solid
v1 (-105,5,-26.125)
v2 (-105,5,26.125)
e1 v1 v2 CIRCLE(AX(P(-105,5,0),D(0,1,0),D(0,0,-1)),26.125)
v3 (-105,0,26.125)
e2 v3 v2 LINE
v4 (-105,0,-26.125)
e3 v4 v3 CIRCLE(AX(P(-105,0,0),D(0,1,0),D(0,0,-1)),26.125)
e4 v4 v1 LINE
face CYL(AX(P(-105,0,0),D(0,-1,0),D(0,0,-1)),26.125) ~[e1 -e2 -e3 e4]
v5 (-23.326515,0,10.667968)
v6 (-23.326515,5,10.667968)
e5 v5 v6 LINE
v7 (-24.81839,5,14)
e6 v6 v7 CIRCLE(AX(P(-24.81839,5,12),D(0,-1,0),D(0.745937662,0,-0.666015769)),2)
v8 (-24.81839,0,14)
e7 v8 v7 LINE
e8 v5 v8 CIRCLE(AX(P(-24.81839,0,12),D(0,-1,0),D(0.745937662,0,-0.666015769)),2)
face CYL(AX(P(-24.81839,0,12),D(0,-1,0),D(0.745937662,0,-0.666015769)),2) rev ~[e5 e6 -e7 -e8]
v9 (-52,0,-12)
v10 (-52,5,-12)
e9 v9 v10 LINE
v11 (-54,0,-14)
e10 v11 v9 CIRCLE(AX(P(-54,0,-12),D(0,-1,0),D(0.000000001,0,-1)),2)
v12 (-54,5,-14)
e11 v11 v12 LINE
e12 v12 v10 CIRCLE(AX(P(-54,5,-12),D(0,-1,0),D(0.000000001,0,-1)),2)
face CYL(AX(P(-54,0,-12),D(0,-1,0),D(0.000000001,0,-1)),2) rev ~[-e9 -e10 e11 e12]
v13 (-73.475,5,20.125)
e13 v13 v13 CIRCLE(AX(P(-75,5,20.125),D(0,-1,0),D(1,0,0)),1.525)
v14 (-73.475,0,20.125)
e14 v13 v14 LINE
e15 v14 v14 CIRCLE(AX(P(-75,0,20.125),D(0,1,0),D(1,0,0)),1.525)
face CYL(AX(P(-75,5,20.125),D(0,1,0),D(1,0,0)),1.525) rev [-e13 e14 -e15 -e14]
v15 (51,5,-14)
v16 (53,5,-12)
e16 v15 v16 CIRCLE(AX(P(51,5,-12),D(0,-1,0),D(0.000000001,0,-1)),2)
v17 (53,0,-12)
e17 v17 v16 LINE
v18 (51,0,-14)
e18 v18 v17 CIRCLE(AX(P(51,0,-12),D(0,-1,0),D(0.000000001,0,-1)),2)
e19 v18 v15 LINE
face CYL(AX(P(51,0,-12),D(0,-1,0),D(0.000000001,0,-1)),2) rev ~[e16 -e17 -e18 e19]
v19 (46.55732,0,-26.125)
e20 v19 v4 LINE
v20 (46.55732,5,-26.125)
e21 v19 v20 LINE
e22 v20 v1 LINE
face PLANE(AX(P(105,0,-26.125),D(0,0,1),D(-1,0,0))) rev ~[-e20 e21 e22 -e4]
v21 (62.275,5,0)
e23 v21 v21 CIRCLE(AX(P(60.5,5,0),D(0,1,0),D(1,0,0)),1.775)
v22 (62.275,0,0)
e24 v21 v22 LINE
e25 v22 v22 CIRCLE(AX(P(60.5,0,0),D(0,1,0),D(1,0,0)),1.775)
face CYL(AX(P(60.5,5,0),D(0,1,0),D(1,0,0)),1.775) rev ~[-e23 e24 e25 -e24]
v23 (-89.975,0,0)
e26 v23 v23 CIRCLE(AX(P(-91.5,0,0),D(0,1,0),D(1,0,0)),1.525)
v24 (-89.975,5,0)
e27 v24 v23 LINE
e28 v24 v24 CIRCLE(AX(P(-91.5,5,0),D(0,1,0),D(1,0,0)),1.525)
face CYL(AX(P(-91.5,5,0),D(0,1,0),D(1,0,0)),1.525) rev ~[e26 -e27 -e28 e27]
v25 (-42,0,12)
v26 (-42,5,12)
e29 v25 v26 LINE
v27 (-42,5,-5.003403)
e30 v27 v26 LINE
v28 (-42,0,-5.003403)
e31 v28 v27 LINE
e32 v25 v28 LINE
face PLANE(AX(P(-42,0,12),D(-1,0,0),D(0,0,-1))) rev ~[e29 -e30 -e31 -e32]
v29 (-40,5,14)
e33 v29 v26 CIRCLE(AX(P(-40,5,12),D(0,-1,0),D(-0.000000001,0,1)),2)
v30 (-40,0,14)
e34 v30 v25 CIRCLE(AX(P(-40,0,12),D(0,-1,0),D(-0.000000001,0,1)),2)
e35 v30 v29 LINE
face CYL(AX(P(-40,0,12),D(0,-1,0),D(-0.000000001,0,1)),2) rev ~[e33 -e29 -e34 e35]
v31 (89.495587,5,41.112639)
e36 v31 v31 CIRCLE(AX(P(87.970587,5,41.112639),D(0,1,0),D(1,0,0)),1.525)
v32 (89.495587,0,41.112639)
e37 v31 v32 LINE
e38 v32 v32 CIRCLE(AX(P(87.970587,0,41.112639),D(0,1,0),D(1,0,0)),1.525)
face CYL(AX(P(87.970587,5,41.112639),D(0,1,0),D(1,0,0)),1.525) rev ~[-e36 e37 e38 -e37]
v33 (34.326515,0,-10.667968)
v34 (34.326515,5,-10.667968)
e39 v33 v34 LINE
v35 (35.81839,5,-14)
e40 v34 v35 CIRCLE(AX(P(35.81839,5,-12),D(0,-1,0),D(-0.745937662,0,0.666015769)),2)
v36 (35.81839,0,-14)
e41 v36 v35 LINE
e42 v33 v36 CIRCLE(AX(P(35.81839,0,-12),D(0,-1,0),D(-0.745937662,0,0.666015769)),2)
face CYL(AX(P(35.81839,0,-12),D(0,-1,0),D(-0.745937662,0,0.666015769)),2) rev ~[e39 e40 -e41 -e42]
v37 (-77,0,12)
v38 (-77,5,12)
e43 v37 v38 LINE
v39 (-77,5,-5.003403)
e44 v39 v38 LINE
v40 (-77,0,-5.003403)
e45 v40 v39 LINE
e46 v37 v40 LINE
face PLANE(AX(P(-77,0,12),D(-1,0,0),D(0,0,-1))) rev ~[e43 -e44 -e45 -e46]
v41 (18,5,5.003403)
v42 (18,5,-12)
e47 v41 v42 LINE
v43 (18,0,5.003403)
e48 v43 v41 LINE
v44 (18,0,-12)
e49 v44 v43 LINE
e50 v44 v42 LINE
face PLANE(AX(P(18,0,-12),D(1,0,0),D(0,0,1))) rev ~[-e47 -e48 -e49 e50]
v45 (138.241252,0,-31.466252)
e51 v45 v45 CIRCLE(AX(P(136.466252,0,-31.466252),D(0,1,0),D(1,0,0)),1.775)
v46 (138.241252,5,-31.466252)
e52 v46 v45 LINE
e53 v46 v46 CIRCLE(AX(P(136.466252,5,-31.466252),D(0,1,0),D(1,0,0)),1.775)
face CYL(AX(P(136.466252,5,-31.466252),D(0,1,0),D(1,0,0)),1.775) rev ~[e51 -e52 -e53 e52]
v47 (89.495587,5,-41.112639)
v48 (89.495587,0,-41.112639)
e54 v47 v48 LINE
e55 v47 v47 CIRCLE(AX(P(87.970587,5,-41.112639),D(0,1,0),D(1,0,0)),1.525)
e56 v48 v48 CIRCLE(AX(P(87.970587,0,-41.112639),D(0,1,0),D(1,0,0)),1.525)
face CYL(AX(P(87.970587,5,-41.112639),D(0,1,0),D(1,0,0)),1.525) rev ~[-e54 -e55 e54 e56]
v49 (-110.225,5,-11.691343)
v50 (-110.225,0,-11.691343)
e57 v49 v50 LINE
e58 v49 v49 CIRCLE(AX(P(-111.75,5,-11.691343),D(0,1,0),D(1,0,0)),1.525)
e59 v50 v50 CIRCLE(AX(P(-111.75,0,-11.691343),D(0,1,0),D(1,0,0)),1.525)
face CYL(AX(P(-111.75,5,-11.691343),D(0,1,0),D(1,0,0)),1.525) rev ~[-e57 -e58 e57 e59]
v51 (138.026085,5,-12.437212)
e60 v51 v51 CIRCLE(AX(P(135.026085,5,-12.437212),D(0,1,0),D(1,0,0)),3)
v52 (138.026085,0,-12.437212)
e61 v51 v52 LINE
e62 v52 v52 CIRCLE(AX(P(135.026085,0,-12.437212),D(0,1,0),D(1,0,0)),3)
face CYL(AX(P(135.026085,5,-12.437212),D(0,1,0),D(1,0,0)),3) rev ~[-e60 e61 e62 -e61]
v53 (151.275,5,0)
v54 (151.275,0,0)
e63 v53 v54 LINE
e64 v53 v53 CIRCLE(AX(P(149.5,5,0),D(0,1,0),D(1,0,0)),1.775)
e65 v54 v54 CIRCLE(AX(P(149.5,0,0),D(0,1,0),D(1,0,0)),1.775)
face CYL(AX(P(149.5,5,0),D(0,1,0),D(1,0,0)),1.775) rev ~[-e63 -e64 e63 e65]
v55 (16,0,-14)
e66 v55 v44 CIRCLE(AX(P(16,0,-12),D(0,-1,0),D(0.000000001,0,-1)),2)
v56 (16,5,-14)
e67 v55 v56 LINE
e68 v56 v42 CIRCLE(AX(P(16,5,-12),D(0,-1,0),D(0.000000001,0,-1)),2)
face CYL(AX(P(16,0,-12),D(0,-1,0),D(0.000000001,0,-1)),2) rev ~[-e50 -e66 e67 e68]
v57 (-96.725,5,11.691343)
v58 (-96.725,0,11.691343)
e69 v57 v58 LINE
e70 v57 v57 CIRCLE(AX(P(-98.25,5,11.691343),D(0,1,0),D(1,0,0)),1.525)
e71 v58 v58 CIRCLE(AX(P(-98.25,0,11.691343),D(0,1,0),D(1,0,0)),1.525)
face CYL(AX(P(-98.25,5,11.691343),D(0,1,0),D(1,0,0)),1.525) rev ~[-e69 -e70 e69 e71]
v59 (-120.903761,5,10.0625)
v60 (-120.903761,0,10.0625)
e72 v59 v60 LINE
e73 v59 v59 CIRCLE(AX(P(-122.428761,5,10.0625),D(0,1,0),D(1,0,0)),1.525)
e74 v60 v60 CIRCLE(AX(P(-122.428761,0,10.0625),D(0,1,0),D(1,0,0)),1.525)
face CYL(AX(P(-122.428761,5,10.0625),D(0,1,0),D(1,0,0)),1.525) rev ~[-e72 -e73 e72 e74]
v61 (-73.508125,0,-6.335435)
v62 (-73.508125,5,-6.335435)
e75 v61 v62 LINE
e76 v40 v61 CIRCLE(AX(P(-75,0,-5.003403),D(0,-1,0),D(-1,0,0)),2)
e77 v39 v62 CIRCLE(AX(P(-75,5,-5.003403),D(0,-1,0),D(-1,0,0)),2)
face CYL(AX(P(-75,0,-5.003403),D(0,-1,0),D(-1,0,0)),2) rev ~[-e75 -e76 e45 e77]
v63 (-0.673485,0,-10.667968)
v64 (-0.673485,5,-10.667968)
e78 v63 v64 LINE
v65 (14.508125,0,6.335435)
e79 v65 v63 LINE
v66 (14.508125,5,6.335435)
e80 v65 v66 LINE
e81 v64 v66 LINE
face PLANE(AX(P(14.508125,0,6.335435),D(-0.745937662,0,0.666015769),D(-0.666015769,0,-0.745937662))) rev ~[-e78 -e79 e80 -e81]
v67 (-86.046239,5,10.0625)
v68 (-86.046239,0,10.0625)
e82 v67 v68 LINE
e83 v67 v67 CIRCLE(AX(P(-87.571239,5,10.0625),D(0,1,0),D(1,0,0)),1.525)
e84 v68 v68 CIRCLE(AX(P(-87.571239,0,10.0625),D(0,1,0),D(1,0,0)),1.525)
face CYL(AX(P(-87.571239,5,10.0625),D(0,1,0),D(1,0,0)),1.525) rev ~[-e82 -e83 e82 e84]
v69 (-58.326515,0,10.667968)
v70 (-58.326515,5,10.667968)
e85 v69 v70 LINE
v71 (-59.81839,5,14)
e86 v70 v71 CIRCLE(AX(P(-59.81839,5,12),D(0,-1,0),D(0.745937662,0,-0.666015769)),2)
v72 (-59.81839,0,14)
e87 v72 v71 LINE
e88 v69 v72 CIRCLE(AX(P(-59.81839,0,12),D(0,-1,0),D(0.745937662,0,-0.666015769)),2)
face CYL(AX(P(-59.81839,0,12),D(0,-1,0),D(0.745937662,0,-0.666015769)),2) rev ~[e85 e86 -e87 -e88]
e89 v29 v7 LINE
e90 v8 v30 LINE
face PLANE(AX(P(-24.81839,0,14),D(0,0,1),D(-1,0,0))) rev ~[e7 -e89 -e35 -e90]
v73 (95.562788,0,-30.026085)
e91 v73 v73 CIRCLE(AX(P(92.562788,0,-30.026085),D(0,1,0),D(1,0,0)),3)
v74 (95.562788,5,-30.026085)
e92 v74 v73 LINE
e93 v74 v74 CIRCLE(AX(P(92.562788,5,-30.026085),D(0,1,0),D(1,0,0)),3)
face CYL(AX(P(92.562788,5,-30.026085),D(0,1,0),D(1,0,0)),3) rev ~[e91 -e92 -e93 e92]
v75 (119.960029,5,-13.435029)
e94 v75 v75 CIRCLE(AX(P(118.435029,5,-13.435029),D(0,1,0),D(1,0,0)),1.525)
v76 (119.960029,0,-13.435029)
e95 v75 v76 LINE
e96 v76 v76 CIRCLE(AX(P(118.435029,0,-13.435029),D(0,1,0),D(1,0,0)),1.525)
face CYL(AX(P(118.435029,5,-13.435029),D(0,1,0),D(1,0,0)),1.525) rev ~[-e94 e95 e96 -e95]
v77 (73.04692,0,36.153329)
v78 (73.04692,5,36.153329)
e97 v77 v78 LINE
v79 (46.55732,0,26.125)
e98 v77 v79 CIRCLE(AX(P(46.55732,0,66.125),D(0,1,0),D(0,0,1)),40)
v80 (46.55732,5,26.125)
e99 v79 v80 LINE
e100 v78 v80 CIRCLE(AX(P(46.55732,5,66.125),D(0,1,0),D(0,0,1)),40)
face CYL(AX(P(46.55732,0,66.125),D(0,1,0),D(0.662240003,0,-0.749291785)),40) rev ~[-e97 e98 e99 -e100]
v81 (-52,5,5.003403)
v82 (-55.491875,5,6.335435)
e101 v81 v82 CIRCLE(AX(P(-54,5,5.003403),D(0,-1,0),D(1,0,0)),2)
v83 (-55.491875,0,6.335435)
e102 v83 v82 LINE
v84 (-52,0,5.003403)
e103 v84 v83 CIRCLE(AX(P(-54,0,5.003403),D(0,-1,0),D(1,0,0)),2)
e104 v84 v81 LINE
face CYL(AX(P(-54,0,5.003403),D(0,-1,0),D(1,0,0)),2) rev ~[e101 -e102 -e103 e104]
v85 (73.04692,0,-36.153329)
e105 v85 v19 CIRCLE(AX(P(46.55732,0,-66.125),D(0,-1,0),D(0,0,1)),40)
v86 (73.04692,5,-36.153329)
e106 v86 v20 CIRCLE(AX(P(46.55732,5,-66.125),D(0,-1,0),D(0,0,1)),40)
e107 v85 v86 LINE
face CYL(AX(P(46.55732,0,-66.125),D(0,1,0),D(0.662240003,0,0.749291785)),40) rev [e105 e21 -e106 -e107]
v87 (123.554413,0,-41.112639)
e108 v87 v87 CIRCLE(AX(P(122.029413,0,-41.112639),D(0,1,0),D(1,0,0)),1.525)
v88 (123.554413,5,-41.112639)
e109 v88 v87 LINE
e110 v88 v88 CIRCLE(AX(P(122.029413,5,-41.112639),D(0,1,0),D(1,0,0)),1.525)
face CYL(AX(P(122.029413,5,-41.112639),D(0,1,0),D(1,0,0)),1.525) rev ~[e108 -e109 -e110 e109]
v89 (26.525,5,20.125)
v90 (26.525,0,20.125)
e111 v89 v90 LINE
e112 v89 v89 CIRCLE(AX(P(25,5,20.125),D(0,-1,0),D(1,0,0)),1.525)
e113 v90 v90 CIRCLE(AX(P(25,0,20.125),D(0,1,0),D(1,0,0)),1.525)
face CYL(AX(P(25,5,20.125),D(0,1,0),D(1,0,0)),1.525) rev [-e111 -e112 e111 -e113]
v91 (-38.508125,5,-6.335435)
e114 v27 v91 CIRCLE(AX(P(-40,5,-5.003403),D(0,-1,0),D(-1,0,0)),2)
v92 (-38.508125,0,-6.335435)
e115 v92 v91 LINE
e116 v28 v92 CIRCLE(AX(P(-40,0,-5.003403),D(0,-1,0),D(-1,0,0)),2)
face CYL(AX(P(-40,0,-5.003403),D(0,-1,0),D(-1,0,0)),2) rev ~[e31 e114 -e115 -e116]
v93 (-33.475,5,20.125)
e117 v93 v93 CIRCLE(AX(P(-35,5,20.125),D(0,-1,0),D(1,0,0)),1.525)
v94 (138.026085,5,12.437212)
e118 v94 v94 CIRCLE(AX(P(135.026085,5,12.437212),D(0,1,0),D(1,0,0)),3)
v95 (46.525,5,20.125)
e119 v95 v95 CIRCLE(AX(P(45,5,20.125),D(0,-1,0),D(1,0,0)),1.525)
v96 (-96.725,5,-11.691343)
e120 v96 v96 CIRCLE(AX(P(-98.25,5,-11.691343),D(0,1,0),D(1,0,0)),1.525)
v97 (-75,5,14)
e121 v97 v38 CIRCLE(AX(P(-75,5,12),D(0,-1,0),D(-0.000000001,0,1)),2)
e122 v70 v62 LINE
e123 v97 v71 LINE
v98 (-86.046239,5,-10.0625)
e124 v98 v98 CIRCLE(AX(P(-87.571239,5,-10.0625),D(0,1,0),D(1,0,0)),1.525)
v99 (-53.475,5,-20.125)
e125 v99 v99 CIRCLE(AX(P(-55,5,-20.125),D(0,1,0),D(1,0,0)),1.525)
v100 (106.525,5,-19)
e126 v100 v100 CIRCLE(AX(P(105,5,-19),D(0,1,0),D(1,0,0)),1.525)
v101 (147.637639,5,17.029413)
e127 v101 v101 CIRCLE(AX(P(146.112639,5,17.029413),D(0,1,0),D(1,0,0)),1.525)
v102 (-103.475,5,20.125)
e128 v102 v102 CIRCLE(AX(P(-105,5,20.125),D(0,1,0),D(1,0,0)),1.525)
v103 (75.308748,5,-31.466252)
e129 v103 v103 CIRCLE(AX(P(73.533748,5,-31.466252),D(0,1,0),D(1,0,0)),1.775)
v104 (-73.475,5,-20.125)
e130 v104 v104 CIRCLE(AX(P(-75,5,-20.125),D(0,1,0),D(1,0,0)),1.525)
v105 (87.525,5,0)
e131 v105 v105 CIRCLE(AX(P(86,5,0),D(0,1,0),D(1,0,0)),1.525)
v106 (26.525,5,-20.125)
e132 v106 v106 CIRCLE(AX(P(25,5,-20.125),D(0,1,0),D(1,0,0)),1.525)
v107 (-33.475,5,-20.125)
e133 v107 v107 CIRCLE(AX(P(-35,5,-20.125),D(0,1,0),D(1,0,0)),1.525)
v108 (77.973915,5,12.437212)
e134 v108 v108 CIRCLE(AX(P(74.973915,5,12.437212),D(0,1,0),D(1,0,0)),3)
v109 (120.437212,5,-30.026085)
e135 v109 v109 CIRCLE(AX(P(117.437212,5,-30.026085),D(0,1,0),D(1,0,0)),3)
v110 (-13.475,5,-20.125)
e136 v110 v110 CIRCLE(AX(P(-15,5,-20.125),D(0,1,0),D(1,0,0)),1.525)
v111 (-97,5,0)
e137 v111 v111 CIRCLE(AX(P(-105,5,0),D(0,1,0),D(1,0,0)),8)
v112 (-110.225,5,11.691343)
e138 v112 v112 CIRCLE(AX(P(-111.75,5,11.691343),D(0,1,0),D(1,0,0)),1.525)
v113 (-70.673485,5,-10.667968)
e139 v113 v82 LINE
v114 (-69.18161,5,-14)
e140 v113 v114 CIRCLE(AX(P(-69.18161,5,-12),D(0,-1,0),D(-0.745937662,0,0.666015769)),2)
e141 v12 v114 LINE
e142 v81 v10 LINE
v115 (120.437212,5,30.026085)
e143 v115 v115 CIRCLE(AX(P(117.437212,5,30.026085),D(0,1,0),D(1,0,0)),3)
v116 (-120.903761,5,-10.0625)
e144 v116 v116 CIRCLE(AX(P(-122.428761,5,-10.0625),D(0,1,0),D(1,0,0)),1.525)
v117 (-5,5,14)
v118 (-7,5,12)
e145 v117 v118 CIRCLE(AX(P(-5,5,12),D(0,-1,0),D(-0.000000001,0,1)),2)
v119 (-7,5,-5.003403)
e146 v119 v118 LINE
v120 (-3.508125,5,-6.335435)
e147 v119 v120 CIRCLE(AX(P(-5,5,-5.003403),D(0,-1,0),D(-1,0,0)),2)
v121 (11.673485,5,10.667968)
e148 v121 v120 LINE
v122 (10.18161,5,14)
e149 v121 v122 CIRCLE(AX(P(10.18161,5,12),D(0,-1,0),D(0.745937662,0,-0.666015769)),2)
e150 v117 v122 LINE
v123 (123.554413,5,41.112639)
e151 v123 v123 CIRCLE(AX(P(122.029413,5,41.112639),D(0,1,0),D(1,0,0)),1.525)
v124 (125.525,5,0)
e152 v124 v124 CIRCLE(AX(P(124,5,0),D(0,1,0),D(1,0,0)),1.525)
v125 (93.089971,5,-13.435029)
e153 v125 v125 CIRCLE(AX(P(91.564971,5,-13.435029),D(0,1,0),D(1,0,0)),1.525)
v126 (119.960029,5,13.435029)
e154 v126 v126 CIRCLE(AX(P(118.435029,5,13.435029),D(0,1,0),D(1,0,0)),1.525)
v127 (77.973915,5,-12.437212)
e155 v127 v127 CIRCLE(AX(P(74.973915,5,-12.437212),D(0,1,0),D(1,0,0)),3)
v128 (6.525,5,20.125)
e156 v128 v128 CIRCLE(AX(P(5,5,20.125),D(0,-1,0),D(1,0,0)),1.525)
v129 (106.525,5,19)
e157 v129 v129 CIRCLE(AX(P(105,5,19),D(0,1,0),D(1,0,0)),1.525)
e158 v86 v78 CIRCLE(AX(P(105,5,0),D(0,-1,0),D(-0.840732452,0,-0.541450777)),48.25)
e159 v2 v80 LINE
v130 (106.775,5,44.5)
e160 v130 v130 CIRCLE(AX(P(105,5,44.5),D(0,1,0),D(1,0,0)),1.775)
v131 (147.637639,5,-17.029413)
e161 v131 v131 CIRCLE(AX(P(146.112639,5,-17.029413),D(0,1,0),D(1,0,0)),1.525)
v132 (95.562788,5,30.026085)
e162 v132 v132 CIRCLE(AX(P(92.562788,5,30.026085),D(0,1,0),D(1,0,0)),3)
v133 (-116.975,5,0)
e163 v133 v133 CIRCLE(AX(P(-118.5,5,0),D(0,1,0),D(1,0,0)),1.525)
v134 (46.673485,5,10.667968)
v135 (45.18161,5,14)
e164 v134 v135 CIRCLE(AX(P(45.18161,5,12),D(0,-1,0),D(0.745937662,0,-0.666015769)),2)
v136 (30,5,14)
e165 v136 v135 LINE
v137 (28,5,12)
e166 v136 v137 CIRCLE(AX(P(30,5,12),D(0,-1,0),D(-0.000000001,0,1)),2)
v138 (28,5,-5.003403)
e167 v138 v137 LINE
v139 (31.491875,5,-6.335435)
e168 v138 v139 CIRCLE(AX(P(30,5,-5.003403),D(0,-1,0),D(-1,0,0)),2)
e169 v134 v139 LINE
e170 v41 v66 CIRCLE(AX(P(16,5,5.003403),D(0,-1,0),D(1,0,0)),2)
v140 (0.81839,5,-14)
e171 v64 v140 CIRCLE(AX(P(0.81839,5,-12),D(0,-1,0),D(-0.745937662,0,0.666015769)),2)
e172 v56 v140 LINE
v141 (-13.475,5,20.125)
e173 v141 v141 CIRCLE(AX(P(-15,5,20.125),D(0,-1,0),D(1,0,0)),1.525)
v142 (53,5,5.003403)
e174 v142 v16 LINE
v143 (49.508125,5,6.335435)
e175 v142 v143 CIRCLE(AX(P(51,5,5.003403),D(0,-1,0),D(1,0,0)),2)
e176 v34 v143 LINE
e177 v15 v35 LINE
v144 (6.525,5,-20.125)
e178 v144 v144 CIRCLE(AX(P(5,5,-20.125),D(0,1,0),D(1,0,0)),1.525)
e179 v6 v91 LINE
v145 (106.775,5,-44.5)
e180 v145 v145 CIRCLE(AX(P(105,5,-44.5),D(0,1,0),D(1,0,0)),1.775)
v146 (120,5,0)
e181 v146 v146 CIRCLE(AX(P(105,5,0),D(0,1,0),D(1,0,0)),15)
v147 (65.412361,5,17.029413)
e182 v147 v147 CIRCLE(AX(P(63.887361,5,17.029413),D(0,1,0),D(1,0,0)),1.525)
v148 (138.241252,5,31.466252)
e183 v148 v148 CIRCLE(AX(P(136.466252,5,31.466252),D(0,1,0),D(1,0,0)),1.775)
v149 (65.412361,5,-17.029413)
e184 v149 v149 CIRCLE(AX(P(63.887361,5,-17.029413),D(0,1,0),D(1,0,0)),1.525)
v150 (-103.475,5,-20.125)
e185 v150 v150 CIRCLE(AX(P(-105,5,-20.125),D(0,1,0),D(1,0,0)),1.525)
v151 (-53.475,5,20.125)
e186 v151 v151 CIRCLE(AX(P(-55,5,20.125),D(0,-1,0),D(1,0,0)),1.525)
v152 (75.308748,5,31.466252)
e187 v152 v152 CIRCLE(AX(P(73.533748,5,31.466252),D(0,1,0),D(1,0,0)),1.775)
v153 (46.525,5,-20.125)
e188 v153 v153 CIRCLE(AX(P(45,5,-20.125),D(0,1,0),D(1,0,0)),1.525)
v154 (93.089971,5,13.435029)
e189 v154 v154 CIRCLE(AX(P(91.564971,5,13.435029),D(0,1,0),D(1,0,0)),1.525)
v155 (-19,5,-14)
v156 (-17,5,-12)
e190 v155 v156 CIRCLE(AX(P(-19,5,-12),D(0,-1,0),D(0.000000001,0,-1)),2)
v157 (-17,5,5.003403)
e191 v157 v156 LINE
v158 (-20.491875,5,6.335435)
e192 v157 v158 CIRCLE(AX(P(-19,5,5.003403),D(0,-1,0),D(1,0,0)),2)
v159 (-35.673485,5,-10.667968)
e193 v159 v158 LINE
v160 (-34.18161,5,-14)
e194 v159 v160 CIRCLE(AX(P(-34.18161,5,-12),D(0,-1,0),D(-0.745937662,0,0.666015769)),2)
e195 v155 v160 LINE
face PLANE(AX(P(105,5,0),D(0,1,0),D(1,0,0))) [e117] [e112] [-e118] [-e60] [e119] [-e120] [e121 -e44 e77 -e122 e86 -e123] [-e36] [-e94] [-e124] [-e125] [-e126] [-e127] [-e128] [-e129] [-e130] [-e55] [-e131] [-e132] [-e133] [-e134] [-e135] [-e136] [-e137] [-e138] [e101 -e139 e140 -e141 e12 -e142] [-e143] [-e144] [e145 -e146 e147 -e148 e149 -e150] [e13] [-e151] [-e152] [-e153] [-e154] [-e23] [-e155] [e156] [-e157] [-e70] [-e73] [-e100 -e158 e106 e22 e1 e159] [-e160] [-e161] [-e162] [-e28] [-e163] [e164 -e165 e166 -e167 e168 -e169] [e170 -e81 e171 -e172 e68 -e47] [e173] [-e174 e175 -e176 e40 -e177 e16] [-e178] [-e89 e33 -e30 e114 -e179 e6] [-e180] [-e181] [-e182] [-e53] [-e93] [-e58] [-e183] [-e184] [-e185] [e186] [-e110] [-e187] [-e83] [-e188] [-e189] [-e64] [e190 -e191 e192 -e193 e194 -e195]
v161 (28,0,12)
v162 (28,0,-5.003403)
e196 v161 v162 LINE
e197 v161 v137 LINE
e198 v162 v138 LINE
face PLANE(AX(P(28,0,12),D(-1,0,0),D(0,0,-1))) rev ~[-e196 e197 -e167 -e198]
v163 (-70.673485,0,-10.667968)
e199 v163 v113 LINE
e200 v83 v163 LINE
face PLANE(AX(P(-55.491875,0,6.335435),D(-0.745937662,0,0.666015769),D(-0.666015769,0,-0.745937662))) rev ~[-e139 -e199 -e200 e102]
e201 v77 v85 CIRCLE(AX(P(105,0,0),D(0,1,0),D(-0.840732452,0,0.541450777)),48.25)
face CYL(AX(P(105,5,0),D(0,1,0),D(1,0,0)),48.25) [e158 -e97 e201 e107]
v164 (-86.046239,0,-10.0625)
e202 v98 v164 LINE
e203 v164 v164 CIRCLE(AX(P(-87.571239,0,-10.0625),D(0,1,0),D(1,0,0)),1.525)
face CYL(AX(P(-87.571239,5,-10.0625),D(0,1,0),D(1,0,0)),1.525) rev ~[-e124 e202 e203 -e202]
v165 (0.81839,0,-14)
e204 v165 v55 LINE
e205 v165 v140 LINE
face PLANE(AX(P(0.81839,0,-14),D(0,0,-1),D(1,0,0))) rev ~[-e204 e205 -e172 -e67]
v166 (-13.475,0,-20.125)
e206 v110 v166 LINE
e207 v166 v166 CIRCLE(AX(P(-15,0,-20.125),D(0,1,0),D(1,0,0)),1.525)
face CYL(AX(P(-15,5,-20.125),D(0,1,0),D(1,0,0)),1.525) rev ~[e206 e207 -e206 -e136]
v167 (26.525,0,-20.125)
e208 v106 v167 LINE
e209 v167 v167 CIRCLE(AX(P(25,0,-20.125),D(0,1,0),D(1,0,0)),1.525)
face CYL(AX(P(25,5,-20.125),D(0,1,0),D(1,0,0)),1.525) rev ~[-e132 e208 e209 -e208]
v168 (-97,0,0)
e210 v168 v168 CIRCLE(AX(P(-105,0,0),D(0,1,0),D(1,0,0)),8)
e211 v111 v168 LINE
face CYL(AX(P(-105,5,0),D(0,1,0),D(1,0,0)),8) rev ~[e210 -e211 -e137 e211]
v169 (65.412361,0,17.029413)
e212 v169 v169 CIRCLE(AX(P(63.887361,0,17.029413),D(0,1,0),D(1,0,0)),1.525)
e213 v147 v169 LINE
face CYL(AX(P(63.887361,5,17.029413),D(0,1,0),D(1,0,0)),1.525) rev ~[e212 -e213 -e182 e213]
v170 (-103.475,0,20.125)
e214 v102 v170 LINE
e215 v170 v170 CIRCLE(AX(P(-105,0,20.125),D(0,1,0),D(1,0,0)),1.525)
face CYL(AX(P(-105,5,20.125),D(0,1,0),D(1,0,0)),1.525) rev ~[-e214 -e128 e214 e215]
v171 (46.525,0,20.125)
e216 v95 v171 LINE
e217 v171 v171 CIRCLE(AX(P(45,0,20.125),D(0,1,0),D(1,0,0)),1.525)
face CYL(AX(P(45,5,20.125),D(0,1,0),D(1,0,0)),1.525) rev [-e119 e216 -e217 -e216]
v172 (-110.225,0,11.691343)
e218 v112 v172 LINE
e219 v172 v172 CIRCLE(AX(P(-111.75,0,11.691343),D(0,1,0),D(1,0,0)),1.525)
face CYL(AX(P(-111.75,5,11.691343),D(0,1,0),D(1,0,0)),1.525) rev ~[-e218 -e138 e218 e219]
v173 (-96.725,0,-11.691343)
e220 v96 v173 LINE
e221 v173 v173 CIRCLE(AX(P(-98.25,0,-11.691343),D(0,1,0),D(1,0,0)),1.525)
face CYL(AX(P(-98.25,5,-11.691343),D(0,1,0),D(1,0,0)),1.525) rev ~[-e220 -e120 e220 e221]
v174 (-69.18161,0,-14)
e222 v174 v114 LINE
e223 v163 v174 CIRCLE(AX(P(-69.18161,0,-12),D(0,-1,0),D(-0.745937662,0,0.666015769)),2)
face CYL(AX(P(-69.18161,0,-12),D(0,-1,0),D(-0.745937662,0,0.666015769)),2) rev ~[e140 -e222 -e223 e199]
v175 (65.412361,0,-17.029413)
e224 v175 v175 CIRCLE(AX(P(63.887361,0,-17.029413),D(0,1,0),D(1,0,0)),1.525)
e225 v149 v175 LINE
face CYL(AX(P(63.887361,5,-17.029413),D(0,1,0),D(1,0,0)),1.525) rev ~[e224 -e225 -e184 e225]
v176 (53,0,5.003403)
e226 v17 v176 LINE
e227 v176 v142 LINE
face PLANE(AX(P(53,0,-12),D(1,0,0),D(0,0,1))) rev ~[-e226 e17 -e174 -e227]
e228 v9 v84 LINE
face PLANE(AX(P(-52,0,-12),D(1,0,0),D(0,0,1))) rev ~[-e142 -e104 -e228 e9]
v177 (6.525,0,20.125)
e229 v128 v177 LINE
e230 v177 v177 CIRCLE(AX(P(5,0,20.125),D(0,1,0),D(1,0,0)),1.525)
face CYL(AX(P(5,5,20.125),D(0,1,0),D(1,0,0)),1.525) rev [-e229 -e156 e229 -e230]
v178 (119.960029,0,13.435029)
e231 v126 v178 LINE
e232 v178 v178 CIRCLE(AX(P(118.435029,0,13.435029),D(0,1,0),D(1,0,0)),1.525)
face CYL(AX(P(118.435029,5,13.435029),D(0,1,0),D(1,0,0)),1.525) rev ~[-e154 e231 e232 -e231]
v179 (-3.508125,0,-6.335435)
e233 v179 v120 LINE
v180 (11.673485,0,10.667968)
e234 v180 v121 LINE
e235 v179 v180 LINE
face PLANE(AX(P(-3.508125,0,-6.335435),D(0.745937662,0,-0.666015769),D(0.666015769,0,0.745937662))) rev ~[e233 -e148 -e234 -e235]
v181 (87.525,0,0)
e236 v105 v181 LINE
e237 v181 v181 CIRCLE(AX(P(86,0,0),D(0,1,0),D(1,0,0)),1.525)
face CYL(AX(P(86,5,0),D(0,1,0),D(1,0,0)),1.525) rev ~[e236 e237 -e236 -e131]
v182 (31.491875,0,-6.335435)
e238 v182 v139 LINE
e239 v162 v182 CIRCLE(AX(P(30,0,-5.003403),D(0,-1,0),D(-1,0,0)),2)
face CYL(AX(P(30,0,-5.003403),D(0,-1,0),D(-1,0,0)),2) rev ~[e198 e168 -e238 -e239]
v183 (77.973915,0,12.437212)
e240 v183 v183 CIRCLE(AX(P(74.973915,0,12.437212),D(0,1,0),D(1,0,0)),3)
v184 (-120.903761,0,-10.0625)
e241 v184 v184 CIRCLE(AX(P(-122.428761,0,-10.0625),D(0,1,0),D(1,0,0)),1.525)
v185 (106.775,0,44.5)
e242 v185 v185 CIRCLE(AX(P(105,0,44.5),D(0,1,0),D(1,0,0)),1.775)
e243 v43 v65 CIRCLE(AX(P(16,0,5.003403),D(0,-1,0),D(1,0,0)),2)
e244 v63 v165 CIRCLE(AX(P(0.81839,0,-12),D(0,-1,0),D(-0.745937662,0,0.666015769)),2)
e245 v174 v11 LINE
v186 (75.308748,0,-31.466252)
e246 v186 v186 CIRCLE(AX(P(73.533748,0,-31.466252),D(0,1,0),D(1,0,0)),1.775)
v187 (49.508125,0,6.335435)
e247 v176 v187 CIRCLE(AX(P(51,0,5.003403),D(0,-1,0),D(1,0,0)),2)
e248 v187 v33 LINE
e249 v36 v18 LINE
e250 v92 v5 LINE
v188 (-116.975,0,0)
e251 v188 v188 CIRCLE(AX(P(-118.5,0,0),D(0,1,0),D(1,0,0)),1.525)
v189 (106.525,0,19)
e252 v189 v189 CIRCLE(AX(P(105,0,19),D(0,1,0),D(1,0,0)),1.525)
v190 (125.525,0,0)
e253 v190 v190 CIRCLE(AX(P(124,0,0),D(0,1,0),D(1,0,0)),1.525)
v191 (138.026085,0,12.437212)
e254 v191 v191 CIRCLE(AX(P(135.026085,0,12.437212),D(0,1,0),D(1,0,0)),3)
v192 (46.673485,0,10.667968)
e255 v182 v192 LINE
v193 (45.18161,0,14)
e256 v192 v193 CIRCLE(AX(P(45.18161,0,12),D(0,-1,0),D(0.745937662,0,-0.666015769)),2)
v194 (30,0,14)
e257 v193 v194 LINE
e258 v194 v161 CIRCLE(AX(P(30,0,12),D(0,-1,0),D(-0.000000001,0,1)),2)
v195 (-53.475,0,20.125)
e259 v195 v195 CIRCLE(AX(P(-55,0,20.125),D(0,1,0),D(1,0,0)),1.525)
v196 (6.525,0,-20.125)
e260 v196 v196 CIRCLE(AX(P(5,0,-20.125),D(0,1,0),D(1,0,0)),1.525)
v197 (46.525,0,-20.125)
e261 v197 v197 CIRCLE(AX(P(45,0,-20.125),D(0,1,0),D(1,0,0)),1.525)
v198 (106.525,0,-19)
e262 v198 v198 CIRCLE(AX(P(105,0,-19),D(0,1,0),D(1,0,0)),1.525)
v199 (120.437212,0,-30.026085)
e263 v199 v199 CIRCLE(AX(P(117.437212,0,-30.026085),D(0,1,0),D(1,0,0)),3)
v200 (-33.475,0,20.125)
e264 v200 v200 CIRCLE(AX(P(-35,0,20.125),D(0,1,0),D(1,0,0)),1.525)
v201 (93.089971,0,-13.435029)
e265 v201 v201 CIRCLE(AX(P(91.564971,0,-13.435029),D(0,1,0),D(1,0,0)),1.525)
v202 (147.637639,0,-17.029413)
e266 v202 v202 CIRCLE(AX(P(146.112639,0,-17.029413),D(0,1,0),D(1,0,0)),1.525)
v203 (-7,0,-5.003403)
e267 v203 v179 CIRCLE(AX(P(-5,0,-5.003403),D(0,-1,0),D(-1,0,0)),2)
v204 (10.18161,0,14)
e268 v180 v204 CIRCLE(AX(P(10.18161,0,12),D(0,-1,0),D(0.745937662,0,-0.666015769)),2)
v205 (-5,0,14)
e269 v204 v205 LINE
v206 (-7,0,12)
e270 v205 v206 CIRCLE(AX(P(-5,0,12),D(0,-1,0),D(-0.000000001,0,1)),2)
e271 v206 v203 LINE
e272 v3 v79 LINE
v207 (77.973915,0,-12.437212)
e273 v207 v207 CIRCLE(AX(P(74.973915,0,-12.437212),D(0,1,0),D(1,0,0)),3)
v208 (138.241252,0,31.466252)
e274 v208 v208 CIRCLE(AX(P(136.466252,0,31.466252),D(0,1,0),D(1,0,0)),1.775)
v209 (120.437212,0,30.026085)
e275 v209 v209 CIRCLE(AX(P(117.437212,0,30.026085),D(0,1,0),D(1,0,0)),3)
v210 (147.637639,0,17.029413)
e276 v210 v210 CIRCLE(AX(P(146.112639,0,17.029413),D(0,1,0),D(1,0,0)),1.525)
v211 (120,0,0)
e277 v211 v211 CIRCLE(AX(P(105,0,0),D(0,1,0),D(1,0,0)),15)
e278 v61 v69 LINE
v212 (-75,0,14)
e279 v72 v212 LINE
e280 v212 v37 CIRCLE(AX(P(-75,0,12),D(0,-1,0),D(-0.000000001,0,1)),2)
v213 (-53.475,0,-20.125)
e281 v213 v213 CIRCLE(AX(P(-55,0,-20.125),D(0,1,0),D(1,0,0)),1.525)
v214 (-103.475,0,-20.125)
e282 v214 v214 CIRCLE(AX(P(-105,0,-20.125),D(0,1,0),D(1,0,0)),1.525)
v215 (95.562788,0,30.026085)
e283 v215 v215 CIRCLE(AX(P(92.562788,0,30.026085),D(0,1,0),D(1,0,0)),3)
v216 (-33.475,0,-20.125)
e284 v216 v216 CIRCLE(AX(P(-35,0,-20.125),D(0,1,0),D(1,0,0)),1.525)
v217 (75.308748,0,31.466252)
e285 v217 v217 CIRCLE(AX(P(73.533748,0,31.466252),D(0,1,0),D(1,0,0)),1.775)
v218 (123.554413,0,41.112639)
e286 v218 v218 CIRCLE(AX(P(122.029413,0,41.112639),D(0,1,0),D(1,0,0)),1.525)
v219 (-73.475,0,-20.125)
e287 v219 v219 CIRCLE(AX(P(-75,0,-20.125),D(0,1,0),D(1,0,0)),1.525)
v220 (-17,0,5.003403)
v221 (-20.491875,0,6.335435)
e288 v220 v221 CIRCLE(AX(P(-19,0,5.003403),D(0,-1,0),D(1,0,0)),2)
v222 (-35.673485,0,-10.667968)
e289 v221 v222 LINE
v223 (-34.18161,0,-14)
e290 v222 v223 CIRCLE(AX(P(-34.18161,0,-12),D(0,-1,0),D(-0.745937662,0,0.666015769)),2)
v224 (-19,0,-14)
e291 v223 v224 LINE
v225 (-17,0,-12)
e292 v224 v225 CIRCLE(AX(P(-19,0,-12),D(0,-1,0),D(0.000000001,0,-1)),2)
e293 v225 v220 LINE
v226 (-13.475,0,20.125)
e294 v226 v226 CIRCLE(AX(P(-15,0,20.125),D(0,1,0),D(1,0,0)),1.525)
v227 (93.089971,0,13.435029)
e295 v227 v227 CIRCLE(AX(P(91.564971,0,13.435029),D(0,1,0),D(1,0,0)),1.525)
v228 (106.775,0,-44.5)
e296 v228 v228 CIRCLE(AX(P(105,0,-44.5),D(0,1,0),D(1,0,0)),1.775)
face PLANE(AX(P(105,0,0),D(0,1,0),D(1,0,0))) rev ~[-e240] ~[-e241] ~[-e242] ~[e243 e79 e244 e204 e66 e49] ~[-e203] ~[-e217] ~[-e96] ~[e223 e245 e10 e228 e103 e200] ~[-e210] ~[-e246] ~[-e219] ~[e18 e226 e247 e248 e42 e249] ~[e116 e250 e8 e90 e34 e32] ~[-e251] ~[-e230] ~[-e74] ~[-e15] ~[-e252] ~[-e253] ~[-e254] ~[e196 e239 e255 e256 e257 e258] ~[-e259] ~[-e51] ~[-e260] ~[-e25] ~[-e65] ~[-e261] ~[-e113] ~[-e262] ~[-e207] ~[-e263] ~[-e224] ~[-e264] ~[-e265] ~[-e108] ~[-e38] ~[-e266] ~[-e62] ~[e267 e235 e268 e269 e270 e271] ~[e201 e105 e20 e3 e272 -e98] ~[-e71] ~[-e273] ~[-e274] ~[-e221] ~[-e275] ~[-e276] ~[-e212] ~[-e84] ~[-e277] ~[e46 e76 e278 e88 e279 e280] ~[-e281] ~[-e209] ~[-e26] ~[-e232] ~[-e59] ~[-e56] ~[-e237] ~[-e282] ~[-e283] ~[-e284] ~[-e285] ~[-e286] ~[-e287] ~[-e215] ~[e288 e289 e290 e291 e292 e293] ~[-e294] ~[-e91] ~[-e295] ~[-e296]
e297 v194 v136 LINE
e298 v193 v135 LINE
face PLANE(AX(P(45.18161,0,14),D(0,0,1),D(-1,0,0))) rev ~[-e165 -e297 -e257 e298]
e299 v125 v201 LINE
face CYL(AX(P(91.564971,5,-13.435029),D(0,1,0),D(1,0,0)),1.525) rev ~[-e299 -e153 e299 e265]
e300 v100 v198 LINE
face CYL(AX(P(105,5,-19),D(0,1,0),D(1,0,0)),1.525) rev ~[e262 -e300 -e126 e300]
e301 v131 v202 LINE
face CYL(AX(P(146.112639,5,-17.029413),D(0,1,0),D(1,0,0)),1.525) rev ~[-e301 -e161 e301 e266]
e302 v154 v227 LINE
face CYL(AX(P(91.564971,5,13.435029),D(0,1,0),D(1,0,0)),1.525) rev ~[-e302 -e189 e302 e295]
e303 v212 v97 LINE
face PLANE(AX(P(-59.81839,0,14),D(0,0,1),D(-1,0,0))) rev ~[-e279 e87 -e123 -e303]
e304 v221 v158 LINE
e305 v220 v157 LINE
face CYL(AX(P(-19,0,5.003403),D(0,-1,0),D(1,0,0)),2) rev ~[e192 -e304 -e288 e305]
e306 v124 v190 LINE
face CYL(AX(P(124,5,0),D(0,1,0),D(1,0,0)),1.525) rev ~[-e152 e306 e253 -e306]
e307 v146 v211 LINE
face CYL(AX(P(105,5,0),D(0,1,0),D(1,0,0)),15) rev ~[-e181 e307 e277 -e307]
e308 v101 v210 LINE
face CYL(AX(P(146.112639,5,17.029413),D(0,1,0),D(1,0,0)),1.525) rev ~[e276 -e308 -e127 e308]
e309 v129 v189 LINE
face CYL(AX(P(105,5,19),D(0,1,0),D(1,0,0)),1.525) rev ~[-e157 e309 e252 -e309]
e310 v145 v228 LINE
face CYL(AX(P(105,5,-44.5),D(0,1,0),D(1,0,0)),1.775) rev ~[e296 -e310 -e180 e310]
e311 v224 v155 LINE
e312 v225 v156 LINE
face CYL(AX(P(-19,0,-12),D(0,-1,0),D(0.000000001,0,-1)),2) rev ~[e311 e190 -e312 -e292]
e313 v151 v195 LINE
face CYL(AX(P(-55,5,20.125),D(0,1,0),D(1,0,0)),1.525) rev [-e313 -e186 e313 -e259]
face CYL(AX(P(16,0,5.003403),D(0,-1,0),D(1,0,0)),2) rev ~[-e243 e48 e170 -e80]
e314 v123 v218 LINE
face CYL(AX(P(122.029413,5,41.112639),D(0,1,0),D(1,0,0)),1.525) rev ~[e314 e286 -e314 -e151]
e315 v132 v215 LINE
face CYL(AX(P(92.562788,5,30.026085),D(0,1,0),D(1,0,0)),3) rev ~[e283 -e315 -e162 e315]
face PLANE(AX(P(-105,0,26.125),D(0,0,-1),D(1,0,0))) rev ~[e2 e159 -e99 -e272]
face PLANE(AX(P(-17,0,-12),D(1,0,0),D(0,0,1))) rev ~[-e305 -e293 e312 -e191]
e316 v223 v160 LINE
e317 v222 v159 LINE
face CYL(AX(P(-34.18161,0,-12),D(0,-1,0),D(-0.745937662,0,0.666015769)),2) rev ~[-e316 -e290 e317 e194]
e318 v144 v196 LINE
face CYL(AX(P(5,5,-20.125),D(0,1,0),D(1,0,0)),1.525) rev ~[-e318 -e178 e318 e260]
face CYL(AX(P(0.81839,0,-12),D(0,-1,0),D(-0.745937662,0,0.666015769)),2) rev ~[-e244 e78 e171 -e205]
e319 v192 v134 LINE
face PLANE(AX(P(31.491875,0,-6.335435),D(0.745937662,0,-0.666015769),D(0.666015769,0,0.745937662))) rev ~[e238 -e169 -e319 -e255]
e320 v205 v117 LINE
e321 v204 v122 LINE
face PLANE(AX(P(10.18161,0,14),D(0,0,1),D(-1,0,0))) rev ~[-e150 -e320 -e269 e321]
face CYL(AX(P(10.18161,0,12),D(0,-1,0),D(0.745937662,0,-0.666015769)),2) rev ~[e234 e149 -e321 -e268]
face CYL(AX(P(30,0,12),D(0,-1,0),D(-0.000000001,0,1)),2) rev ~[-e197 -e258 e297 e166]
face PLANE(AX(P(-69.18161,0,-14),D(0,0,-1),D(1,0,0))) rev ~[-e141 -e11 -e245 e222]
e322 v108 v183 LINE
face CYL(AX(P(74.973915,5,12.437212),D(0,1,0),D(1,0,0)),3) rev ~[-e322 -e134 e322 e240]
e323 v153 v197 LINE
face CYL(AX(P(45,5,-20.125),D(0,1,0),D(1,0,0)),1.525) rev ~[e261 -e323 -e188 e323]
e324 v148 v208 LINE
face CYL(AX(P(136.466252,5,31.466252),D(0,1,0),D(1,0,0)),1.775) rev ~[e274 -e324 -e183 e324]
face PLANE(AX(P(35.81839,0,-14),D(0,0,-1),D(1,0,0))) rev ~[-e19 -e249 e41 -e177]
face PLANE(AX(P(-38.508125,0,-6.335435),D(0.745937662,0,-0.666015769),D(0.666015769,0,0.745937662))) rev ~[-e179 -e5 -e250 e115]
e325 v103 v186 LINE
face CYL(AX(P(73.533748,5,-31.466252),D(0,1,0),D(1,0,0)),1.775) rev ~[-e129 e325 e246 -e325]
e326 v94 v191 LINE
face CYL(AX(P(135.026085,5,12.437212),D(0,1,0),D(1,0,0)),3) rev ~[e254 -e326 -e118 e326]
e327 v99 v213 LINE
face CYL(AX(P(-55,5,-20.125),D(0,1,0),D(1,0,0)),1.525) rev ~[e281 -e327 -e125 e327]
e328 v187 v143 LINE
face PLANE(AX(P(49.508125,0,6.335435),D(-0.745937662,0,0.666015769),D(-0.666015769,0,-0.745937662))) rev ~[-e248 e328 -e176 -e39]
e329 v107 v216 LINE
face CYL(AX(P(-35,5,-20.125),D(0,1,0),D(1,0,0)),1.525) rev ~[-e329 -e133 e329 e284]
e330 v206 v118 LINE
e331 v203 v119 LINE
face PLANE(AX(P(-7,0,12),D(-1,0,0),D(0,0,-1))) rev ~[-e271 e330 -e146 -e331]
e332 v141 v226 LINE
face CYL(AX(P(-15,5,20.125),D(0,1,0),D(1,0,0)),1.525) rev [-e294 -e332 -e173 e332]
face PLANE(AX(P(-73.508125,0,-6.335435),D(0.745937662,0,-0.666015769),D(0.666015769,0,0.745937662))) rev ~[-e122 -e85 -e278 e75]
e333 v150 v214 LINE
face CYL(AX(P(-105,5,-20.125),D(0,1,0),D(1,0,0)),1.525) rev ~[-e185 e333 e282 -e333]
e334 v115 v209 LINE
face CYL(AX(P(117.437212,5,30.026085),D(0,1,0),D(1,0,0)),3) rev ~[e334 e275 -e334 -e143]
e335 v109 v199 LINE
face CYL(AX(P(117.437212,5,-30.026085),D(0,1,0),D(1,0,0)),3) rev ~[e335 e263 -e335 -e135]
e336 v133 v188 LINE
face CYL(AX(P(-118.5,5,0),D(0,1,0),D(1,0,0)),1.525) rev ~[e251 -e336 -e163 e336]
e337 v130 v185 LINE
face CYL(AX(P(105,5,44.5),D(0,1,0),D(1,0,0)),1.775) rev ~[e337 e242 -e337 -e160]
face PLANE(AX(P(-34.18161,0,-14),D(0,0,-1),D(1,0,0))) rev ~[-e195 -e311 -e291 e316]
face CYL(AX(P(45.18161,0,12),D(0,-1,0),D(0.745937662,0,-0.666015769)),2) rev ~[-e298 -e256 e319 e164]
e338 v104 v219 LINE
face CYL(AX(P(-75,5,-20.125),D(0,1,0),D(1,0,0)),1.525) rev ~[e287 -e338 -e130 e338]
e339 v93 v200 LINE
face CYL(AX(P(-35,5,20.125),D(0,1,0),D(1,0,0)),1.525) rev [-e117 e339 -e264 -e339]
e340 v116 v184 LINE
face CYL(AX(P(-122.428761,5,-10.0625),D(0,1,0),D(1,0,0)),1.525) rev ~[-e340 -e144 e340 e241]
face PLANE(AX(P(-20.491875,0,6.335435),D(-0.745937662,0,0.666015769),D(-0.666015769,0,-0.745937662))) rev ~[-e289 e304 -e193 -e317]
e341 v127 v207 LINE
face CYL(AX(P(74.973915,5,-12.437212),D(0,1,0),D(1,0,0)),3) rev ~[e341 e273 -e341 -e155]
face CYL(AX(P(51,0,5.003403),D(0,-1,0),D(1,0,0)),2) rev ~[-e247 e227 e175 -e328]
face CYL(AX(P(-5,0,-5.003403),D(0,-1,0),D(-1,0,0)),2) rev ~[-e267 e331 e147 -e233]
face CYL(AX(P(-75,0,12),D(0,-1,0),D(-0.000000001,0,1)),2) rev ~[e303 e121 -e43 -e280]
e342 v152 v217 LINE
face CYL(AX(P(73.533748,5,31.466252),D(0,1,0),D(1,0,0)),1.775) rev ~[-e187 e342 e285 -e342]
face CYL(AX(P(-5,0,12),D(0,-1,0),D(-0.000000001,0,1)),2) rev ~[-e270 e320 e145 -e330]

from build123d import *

# Parameters (mm, degrees)
EXTRUDE_1_DEPTH      = 5
SKETCH_2_R           = 1.525
CUT_EXTRUDE_1_DEPTH  = 6
SKETCH_3_R           = 48.25
EXTRUDE_2_DEPTH      = 5
SKETCH_6_R           = 1.525
CUT_EXTRUDE_4_DEPTH  = 6
SKETCH_7_R           = 1.775
CUT_EXTRUDE_5_DEPTH  = 6
FILLET_1_R           = 40
SKETCH_9_R           = 14
CUT_EXTRUDE_7_DEPTH  = 6
SKETCH_10_R          = 8
CUT_EXTRUDE_8_DEPTH  = 6
SKETCH_11_R          = 15
CUT_EXTRUDE_9_DEPTH  = 6
SKETCH_12_R          = 3
CUT_EXTRUDE_10_DEPTH = 6
SKETCH_13_R          = 1.525
CUT_EXTRUDE_11_DEPTH = 6
SKETCH_18_R          = 1.525
CUT_EXTRUDE_13_DEPTH = 6
SKETCH_21_R          = 1.525
CUT_EXTRUDE_15_DEPTH = 6
CUT_EXTRUDE_16_DEPTH = 6


with BuildPart() as part:
    # 草图1 → 凸台-拉伸1 (new body)
    with BuildSketch(Plane(origin=(0, 0, 0), x_dir=(1, 0, 0), z_dir=(0, 1, 0))):
        with BuildLine():
            ThreePointArc((-78.875, 0), (-86.526835342, -18.473164658), (-105, -26.125))
            Line((-105, -26.125), (105, -26.125))
            Line((105, -26.125), (105, 26.125))
            Line((105, 26.125), (-105, 26.125))
            ThreePointArc((-105, 26.125), (-86.526835342, 18.473164658), (-78.875, 0))
        make_face()
        with BuildLine():
            ThreePointArc((-105, 26.125), (-131.125, 0), (-105, -26.125))
            Line((-105, -26.125), (-105, 26.125))
        make_face()
        with BuildLine():
            Line((-105, 26.125), (-105, -26.125))
            ThreePointArc((-105, -26.125), (-86.526835342, -18.473164658), (-78.875, 0))
            ThreePointArc((-78.875, 0), (-86.526835342, 18.473164658), (-105, 26.125))
        make_face()
    extrude(amount=EXTRUDE_1_DEPTH)

    # 草图2 → 切除-拉伸1 (cut, through all)
    with BuildSketch(Plane(origin=(0, 5, 0), x_dir=(1, 0, 0), z_dir=(0, 1, 0))):
        with Locations((-91.5, 0)):
            Circle(SKETCH_2_R)
        with Locations((-98.25, -11.691342951)):
            Circle(SKETCH_2_R)
        with Locations((-111.75, -11.691342951)):
            Circle(SKETCH_2_R)
        with Locations((-118.5, 0)):
            Circle(SKETCH_2_R)
        with Locations((-111.75, 11.691342951)):
            Circle(SKETCH_2_R)
        with Locations((-98.25, 11.691342951)):
            Circle(SKETCH_2_R)
    extrude(amount=-CUT_EXTRUDE_1_DEPTH, mode=Mode.SUBTRACT)

    # 草图3 → 凸台-拉伸2 (add)
    with BuildSketch(Plane(origin=(0, 5, 0), x_dir=(1, 0, 0), z_dir=(0, 1, 0))):
        with Locations((105, 0)):
            Circle(SKETCH_3_R)
    extrude(amount=-EXTRUDE_2_DEPTH)

    # 草图6 → 切除-拉伸4 (cut, through all)
    with BuildSketch(Plane(origin=(0, 5, 0), x_dir=(1, 0, 0), z_dir=(0, 1, 0))):
        with Locations((118.435028843, 13.435028843)):
            Circle(SKETCH_6_R)
        with Locations((124, 0)):
            Circle(SKETCH_6_R)
        with Locations((118.435028843, -13.435028843)):
            Circle(SKETCH_6_R)
        with Locations((105, -19)):
            Circle(SKETCH_6_R)
        with Locations((91.564971157, -13.435028843)):
            Circle(SKETCH_6_R)
        with Locations((86, 0)):
            Circle(SKETCH_6_R)
        with Locations((91.564971157, 13.435028843)):
            Circle(SKETCH_6_R)
        with Locations((105, 19)):
            Circle(SKETCH_6_R)
    extrude(amount=-CUT_EXTRUDE_4_DEPTH, mode=Mode.SUBTRACT)

    # 草图7 → 切除-拉伸5 (cut, through all)
    with BuildSketch(Plane(origin=(0, 5, 0), x_dir=(1, 0, 0), z_dir=(0, 1, 0))):
        with Locations((149.5, 0)):
            Circle(SKETCH_7_R)
        with Locations((136.466251763, -31.466251763)):
            Circle(SKETCH_7_R)
        with Locations((105, -44.5)):
            Circle(SKETCH_7_R)
        with Locations((73.533748237, -31.466251763)):
            Circle(SKETCH_7_R)
        with Locations((60.5, 0)):
            Circle(SKETCH_7_R)
        with Locations((73.533748237, 31.466251763)):
            Circle(SKETCH_7_R)
        with Locations((105, 44.5)):
            Circle(SKETCH_7_R)
        with Locations((136.466251763, 31.466251763)):
            Circle(SKETCH_7_R)
    extrude(amount=-CUT_EXTRUDE_5_DEPTH, mode=Mode.SUBTRACT)

    # 圆角1
    fillet_1_edges = [part.edges().sort_by_distance(p)[0] for p in [
        (64.43465919, 2.5, 26.125),
        (64.43465919, 2.5, -26.125),
    ]]
    fillet(fillet_1_edges, radius=FILLET_1_R)

    # 草图9 → 切除-拉伸7 (cut, through all)
    with BuildSketch(Plane(origin=(0, 5, 0), x_dir=(1, 0, 0), z_dir=(0, 1, 0))):
        with Locations((105, 0)):
            Circle(SKETCH_9_R)
    extrude(amount=-CUT_EXTRUDE_7_DEPTH, mode=Mode.SUBTRACT)

    # 草图10 → 切除-拉伸8 (cut, through all)
    with BuildSketch(Plane(origin=(0, 5, 0), x_dir=(1, 0, 0), z_dir=(0, 1, 0))):
        with Locations((-105, 0)):
            Circle(SKETCH_10_R)
    extrude(amount=-CUT_EXTRUDE_8_DEPTH, mode=Mode.SUBTRACT)

    # 草图11 → 切除-拉伸9 (cut, through all)
    with BuildSketch(Plane(origin=(0, 5, 0), x_dir=(1, 0, 0), z_dir=(0, 1, 0))):
        with Locations((105, 0)):
            Circle(SKETCH_11_R)
    extrude(amount=-CUT_EXTRUDE_9_DEPTH, mode=Mode.SUBTRACT)

    # 草图12 → 切除-拉伸10 (cut, through all)
    with BuildSketch(Plane(origin=(0, 5, 0), x_dir=(1, 0, 0), z_dir=(0, 1, 0))):
        with Locations((117.437211552, 30.026084807)):
            Circle(SKETCH_12_R)
        with Locations((135.026084807, 12.437211552)):
            Circle(SKETCH_12_R)
        with Locations((135.026084807, -12.437211552)):
            Circle(SKETCH_12_R)
        with Locations((117.437211552, -30.026084807)):
            Circle(SKETCH_12_R)
        with Locations((92.562788448, -30.026084807)):
            Circle(SKETCH_12_R)
        with Locations((74.973915193, -12.437211552)):
            Circle(SKETCH_12_R)
        with Locations((74.973915193, 12.437211552)):
            Circle(SKETCH_12_R)
        with Locations((92.562788448, 30.026084807)):
            Circle(SKETCH_12_R)
    extrude(amount=-CUT_EXTRUDE_10_DEPTH, mode=Mode.SUBTRACT)

    # 草图13 → 切除-拉伸11 (cut, through all)
    with BuildSketch(Plane(origin=(0, 5, 0), x_dir=(1, 0, 0), z_dir=(0, 1, 0))):
        with Locations((122.02941274, 41.112639197)):
            Circle(SKETCH_13_R)
        with Locations((146.112639197, 17.02941274)):
            Circle(SKETCH_13_R)
        with Locations((146.112639197, -17.02941274)):
            Circle(SKETCH_13_R)
        with Locations((122.02941274, -41.112639197)):
            Circle(SKETCH_13_R)
        with Locations((87.97058726, -41.112639197)):
            Circle(SKETCH_13_R)
        with Locations((63.887360803, -17.02941274)):
            Circle(SKETCH_13_R)
        with Locations((63.887360803, 17.02941274)):
            Circle(SKETCH_13_R)
        with Locations((87.97058726, 41.112639197)):
            Circle(SKETCH_13_R)
    extrude(amount=-CUT_EXTRUDE_11_DEPTH, mode=Mode.SUBTRACT)

    # 草图18 → 切除-拉伸13 (cut, through all)
    with BuildSketch(Plane(origin=(0, 5, 0), x_dir=(1, 0, 0), z_dir=(0, 1, 0))):
        with Locations((45, 20.125)):
            Circle(SKETCH_18_R)
        with Locations((25, 20.125)):
            Circle(SKETCH_18_R)
        with Locations((5, 20.125)):
            Circle(SKETCH_18_R)
        with Locations((-15, 20.125)):
            Circle(SKETCH_18_R)
        with Locations((-35, 20.125)):
            Circle(SKETCH_18_R)
        with Locations((-55, 20.125)):
            Circle(SKETCH_18_R)
        with Locations((-75, 20.125)):
            Circle(SKETCH_18_R)
    cut_extrude_13 = extrude(amount=-CUT_EXTRUDE_13_DEPTH, mode=Mode.SUBTRACT)

    # 镜向2: 切除-拉伸13 across plane
    add(cut_extrude_13.mirror(Plane.XY), mode=Mode.SUBTRACT)

    # 草图21 → 切除-拉伸15 (cut, through all)
    with BuildSketch(Plane(origin=(0, 5, 0), x_dir=(1, 0, 0), z_dir=(0, 1, 0))):
        with Locations((-105, 20.125)):
            Circle(SKETCH_21_R)
        with Locations((-87.571238749, 10.0625)):
            Circle(SKETCH_21_R)
        with Locations((-87.571238749, -10.0625)):
            Circle(SKETCH_21_R)
        with Locations((-105, -20.125)):
            Circle(SKETCH_21_R)
        with Locations((-122.428761251, -10.0625)):
            Circle(SKETCH_21_R)
        with Locations((-122.428761251, 10.0625)):
            Circle(SKETCH_21_R)
    extrude(amount=-CUT_EXTRUDE_15_DEPTH, mode=Mode.SUBTRACT)

    # 草图22 → 切除-拉伸16 (cut, through all)
    with BuildSketch(Plane.XZ):
        with BuildLine():
            Line((-69.181610021, -14), (-54, -14))
            ThreePointArc((-54, -14), (-52.585786438, -13.414213562), (-52, -12))
            Line((-52, -12), (-52, 5.003403224))
            ThreePointArc((-52, 5.003403224), (-53.287171355, 6.872059244), (-55.491875323, 6.335434762))
            Line((-55.491875323, 6.335434762), (-70.673485344, -10.667968461))
            ThreePointArc((-70.673485344, -10.667968461), (-71.006995333, -12.817293375), (-69.181610021, -14))
        make_face()
        with BuildLine():
            Line((-73.508124677, -6.335434762), (-58.326514656, 10.667968461))
            ThreePointArc((-58.326514656, 10.667968461), (-57.993004667, 12.817293375), (-59.818389979, 14))
            Line((-59.818389979, 14), (-75, 14))
            ThreePointArc((-75, 14), (-76.414213562, 13.414213562), (-77, 12))
            Line((-77, 12), (-77, -5.003403224))
            ThreePointArc((-77, -5.003403224), (-75.712828645, -6.872059244), (-73.508124677, -6.335434762))
        make_face()
        with BuildLine():
            Line((-42, 12), (-42, -5.003403224))
            ThreePointArc((-42, -5.003403224), (-40.712828645, -6.872059244), (-38.508124677, -6.335434762))
            Line((-38.508124677, -6.335434762), (-23.326514656, 10.667968461))
            ThreePointArc((-23.326514656, 10.667968461), (-22.993004667, 12.817293375), (-24.818389979, 14))
            Line((-24.818389979, 14), (-40, 14))
            ThreePointArc((-40, 14), (-41.414213562, 13.414213562), (-42, 12))
        make_face()
        with BuildLine():
            Line((-34.181610021, -14), (-19, -14))
            ThreePointArc((-19, -14), (-17.585786438, -13.414213562), (-17, -12))
            Line((-17, -12), (-17, 5.003403224))
            ThreePointArc((-17, 5.003403224), (-18.287171355, 6.872059244), (-20.491875323, 6.335434762))
            Line((-20.491875323, 6.335434762), (-35.673485344, -10.667968461))
            ThreePointArc((-35.673485344, -10.667968461), (-36.006995333, -12.817293375), (-34.181610021, -14))
        make_face()
        with BuildLine():
            Line((-7, 12), (-7, -5.003403224))
            ThreePointArc((-7, -5.003403224), (-5.712828645, -6.872059244), (-3.508124677, -6.335434762))
            Line((-3.508124677, -6.335434762), (11.673485344, 10.667968461))
            ThreePointArc((11.673485344, 10.667968461), (12.006995333, 12.817293375), (10.181610021, 14))
            Line((10.181610021, 14), (-5, 14))
            ThreePointArc((-5, 14), (-6.414213562, 13.414213562), (-7, 12))
        make_face()
        with BuildLine():
            Line((0.818389979, -14), (16, -14))
            ThreePointArc((16, -14), (17.414213562, -13.414213562), (18, -12))
            Line((18, -12), (18, 5.003403224))
            ThreePointArc((18, 5.003403224), (16.712828645, 6.872059244), (14.508124677, 6.335434762))
            Line((14.508124677, 6.335434762), (-0.673485344, -10.667968461))
            ThreePointArc((-0.673485344, -10.667968461), (-1.006995333, -12.817293375), (0.818389979, -14))
        make_face()
        with BuildLine():
            Line((28, 12), (28, -5.003403224))
            ThreePointArc((28, -5.003403224), (29.287171355, -6.872059244), (31.491875323, -6.335434762))
            Line((31.491875323, -6.335434762), (46.673485344, 10.667968461))
            ThreePointArc((46.673485344, 10.667968461), (47.006995333, 12.817293375), (45.181610021, 14))
            Line((45.181610021, 14), (30, 14))
            ThreePointArc((30, 14), (28.585786438, 13.414213562), (28, 12))
        make_face()
        with BuildLine():
            Line((35.818389979, -14), (51, -14))
            ThreePointArc((51, -14), (52.414213562, -13.414213562), (53, -12))
            Line((53, -12), (53, 5.003403224))
            ThreePointArc((53, 5.003403224), (51.712828645, 6.872059244), (49.508124677, 6.335434762))
            Line((49.508124677, 6.335434762), (34.326514656, -10.667968461))
            ThreePointArc((34.326514656, -10.667968461), (33.993004667, -12.817293375), (35.818389979, -14))
        make_face()
    extrude(amount=-CUT_EXTRUDE_16_DEPTH, mode=Mode.SUBTRACT)


solid = part.part
